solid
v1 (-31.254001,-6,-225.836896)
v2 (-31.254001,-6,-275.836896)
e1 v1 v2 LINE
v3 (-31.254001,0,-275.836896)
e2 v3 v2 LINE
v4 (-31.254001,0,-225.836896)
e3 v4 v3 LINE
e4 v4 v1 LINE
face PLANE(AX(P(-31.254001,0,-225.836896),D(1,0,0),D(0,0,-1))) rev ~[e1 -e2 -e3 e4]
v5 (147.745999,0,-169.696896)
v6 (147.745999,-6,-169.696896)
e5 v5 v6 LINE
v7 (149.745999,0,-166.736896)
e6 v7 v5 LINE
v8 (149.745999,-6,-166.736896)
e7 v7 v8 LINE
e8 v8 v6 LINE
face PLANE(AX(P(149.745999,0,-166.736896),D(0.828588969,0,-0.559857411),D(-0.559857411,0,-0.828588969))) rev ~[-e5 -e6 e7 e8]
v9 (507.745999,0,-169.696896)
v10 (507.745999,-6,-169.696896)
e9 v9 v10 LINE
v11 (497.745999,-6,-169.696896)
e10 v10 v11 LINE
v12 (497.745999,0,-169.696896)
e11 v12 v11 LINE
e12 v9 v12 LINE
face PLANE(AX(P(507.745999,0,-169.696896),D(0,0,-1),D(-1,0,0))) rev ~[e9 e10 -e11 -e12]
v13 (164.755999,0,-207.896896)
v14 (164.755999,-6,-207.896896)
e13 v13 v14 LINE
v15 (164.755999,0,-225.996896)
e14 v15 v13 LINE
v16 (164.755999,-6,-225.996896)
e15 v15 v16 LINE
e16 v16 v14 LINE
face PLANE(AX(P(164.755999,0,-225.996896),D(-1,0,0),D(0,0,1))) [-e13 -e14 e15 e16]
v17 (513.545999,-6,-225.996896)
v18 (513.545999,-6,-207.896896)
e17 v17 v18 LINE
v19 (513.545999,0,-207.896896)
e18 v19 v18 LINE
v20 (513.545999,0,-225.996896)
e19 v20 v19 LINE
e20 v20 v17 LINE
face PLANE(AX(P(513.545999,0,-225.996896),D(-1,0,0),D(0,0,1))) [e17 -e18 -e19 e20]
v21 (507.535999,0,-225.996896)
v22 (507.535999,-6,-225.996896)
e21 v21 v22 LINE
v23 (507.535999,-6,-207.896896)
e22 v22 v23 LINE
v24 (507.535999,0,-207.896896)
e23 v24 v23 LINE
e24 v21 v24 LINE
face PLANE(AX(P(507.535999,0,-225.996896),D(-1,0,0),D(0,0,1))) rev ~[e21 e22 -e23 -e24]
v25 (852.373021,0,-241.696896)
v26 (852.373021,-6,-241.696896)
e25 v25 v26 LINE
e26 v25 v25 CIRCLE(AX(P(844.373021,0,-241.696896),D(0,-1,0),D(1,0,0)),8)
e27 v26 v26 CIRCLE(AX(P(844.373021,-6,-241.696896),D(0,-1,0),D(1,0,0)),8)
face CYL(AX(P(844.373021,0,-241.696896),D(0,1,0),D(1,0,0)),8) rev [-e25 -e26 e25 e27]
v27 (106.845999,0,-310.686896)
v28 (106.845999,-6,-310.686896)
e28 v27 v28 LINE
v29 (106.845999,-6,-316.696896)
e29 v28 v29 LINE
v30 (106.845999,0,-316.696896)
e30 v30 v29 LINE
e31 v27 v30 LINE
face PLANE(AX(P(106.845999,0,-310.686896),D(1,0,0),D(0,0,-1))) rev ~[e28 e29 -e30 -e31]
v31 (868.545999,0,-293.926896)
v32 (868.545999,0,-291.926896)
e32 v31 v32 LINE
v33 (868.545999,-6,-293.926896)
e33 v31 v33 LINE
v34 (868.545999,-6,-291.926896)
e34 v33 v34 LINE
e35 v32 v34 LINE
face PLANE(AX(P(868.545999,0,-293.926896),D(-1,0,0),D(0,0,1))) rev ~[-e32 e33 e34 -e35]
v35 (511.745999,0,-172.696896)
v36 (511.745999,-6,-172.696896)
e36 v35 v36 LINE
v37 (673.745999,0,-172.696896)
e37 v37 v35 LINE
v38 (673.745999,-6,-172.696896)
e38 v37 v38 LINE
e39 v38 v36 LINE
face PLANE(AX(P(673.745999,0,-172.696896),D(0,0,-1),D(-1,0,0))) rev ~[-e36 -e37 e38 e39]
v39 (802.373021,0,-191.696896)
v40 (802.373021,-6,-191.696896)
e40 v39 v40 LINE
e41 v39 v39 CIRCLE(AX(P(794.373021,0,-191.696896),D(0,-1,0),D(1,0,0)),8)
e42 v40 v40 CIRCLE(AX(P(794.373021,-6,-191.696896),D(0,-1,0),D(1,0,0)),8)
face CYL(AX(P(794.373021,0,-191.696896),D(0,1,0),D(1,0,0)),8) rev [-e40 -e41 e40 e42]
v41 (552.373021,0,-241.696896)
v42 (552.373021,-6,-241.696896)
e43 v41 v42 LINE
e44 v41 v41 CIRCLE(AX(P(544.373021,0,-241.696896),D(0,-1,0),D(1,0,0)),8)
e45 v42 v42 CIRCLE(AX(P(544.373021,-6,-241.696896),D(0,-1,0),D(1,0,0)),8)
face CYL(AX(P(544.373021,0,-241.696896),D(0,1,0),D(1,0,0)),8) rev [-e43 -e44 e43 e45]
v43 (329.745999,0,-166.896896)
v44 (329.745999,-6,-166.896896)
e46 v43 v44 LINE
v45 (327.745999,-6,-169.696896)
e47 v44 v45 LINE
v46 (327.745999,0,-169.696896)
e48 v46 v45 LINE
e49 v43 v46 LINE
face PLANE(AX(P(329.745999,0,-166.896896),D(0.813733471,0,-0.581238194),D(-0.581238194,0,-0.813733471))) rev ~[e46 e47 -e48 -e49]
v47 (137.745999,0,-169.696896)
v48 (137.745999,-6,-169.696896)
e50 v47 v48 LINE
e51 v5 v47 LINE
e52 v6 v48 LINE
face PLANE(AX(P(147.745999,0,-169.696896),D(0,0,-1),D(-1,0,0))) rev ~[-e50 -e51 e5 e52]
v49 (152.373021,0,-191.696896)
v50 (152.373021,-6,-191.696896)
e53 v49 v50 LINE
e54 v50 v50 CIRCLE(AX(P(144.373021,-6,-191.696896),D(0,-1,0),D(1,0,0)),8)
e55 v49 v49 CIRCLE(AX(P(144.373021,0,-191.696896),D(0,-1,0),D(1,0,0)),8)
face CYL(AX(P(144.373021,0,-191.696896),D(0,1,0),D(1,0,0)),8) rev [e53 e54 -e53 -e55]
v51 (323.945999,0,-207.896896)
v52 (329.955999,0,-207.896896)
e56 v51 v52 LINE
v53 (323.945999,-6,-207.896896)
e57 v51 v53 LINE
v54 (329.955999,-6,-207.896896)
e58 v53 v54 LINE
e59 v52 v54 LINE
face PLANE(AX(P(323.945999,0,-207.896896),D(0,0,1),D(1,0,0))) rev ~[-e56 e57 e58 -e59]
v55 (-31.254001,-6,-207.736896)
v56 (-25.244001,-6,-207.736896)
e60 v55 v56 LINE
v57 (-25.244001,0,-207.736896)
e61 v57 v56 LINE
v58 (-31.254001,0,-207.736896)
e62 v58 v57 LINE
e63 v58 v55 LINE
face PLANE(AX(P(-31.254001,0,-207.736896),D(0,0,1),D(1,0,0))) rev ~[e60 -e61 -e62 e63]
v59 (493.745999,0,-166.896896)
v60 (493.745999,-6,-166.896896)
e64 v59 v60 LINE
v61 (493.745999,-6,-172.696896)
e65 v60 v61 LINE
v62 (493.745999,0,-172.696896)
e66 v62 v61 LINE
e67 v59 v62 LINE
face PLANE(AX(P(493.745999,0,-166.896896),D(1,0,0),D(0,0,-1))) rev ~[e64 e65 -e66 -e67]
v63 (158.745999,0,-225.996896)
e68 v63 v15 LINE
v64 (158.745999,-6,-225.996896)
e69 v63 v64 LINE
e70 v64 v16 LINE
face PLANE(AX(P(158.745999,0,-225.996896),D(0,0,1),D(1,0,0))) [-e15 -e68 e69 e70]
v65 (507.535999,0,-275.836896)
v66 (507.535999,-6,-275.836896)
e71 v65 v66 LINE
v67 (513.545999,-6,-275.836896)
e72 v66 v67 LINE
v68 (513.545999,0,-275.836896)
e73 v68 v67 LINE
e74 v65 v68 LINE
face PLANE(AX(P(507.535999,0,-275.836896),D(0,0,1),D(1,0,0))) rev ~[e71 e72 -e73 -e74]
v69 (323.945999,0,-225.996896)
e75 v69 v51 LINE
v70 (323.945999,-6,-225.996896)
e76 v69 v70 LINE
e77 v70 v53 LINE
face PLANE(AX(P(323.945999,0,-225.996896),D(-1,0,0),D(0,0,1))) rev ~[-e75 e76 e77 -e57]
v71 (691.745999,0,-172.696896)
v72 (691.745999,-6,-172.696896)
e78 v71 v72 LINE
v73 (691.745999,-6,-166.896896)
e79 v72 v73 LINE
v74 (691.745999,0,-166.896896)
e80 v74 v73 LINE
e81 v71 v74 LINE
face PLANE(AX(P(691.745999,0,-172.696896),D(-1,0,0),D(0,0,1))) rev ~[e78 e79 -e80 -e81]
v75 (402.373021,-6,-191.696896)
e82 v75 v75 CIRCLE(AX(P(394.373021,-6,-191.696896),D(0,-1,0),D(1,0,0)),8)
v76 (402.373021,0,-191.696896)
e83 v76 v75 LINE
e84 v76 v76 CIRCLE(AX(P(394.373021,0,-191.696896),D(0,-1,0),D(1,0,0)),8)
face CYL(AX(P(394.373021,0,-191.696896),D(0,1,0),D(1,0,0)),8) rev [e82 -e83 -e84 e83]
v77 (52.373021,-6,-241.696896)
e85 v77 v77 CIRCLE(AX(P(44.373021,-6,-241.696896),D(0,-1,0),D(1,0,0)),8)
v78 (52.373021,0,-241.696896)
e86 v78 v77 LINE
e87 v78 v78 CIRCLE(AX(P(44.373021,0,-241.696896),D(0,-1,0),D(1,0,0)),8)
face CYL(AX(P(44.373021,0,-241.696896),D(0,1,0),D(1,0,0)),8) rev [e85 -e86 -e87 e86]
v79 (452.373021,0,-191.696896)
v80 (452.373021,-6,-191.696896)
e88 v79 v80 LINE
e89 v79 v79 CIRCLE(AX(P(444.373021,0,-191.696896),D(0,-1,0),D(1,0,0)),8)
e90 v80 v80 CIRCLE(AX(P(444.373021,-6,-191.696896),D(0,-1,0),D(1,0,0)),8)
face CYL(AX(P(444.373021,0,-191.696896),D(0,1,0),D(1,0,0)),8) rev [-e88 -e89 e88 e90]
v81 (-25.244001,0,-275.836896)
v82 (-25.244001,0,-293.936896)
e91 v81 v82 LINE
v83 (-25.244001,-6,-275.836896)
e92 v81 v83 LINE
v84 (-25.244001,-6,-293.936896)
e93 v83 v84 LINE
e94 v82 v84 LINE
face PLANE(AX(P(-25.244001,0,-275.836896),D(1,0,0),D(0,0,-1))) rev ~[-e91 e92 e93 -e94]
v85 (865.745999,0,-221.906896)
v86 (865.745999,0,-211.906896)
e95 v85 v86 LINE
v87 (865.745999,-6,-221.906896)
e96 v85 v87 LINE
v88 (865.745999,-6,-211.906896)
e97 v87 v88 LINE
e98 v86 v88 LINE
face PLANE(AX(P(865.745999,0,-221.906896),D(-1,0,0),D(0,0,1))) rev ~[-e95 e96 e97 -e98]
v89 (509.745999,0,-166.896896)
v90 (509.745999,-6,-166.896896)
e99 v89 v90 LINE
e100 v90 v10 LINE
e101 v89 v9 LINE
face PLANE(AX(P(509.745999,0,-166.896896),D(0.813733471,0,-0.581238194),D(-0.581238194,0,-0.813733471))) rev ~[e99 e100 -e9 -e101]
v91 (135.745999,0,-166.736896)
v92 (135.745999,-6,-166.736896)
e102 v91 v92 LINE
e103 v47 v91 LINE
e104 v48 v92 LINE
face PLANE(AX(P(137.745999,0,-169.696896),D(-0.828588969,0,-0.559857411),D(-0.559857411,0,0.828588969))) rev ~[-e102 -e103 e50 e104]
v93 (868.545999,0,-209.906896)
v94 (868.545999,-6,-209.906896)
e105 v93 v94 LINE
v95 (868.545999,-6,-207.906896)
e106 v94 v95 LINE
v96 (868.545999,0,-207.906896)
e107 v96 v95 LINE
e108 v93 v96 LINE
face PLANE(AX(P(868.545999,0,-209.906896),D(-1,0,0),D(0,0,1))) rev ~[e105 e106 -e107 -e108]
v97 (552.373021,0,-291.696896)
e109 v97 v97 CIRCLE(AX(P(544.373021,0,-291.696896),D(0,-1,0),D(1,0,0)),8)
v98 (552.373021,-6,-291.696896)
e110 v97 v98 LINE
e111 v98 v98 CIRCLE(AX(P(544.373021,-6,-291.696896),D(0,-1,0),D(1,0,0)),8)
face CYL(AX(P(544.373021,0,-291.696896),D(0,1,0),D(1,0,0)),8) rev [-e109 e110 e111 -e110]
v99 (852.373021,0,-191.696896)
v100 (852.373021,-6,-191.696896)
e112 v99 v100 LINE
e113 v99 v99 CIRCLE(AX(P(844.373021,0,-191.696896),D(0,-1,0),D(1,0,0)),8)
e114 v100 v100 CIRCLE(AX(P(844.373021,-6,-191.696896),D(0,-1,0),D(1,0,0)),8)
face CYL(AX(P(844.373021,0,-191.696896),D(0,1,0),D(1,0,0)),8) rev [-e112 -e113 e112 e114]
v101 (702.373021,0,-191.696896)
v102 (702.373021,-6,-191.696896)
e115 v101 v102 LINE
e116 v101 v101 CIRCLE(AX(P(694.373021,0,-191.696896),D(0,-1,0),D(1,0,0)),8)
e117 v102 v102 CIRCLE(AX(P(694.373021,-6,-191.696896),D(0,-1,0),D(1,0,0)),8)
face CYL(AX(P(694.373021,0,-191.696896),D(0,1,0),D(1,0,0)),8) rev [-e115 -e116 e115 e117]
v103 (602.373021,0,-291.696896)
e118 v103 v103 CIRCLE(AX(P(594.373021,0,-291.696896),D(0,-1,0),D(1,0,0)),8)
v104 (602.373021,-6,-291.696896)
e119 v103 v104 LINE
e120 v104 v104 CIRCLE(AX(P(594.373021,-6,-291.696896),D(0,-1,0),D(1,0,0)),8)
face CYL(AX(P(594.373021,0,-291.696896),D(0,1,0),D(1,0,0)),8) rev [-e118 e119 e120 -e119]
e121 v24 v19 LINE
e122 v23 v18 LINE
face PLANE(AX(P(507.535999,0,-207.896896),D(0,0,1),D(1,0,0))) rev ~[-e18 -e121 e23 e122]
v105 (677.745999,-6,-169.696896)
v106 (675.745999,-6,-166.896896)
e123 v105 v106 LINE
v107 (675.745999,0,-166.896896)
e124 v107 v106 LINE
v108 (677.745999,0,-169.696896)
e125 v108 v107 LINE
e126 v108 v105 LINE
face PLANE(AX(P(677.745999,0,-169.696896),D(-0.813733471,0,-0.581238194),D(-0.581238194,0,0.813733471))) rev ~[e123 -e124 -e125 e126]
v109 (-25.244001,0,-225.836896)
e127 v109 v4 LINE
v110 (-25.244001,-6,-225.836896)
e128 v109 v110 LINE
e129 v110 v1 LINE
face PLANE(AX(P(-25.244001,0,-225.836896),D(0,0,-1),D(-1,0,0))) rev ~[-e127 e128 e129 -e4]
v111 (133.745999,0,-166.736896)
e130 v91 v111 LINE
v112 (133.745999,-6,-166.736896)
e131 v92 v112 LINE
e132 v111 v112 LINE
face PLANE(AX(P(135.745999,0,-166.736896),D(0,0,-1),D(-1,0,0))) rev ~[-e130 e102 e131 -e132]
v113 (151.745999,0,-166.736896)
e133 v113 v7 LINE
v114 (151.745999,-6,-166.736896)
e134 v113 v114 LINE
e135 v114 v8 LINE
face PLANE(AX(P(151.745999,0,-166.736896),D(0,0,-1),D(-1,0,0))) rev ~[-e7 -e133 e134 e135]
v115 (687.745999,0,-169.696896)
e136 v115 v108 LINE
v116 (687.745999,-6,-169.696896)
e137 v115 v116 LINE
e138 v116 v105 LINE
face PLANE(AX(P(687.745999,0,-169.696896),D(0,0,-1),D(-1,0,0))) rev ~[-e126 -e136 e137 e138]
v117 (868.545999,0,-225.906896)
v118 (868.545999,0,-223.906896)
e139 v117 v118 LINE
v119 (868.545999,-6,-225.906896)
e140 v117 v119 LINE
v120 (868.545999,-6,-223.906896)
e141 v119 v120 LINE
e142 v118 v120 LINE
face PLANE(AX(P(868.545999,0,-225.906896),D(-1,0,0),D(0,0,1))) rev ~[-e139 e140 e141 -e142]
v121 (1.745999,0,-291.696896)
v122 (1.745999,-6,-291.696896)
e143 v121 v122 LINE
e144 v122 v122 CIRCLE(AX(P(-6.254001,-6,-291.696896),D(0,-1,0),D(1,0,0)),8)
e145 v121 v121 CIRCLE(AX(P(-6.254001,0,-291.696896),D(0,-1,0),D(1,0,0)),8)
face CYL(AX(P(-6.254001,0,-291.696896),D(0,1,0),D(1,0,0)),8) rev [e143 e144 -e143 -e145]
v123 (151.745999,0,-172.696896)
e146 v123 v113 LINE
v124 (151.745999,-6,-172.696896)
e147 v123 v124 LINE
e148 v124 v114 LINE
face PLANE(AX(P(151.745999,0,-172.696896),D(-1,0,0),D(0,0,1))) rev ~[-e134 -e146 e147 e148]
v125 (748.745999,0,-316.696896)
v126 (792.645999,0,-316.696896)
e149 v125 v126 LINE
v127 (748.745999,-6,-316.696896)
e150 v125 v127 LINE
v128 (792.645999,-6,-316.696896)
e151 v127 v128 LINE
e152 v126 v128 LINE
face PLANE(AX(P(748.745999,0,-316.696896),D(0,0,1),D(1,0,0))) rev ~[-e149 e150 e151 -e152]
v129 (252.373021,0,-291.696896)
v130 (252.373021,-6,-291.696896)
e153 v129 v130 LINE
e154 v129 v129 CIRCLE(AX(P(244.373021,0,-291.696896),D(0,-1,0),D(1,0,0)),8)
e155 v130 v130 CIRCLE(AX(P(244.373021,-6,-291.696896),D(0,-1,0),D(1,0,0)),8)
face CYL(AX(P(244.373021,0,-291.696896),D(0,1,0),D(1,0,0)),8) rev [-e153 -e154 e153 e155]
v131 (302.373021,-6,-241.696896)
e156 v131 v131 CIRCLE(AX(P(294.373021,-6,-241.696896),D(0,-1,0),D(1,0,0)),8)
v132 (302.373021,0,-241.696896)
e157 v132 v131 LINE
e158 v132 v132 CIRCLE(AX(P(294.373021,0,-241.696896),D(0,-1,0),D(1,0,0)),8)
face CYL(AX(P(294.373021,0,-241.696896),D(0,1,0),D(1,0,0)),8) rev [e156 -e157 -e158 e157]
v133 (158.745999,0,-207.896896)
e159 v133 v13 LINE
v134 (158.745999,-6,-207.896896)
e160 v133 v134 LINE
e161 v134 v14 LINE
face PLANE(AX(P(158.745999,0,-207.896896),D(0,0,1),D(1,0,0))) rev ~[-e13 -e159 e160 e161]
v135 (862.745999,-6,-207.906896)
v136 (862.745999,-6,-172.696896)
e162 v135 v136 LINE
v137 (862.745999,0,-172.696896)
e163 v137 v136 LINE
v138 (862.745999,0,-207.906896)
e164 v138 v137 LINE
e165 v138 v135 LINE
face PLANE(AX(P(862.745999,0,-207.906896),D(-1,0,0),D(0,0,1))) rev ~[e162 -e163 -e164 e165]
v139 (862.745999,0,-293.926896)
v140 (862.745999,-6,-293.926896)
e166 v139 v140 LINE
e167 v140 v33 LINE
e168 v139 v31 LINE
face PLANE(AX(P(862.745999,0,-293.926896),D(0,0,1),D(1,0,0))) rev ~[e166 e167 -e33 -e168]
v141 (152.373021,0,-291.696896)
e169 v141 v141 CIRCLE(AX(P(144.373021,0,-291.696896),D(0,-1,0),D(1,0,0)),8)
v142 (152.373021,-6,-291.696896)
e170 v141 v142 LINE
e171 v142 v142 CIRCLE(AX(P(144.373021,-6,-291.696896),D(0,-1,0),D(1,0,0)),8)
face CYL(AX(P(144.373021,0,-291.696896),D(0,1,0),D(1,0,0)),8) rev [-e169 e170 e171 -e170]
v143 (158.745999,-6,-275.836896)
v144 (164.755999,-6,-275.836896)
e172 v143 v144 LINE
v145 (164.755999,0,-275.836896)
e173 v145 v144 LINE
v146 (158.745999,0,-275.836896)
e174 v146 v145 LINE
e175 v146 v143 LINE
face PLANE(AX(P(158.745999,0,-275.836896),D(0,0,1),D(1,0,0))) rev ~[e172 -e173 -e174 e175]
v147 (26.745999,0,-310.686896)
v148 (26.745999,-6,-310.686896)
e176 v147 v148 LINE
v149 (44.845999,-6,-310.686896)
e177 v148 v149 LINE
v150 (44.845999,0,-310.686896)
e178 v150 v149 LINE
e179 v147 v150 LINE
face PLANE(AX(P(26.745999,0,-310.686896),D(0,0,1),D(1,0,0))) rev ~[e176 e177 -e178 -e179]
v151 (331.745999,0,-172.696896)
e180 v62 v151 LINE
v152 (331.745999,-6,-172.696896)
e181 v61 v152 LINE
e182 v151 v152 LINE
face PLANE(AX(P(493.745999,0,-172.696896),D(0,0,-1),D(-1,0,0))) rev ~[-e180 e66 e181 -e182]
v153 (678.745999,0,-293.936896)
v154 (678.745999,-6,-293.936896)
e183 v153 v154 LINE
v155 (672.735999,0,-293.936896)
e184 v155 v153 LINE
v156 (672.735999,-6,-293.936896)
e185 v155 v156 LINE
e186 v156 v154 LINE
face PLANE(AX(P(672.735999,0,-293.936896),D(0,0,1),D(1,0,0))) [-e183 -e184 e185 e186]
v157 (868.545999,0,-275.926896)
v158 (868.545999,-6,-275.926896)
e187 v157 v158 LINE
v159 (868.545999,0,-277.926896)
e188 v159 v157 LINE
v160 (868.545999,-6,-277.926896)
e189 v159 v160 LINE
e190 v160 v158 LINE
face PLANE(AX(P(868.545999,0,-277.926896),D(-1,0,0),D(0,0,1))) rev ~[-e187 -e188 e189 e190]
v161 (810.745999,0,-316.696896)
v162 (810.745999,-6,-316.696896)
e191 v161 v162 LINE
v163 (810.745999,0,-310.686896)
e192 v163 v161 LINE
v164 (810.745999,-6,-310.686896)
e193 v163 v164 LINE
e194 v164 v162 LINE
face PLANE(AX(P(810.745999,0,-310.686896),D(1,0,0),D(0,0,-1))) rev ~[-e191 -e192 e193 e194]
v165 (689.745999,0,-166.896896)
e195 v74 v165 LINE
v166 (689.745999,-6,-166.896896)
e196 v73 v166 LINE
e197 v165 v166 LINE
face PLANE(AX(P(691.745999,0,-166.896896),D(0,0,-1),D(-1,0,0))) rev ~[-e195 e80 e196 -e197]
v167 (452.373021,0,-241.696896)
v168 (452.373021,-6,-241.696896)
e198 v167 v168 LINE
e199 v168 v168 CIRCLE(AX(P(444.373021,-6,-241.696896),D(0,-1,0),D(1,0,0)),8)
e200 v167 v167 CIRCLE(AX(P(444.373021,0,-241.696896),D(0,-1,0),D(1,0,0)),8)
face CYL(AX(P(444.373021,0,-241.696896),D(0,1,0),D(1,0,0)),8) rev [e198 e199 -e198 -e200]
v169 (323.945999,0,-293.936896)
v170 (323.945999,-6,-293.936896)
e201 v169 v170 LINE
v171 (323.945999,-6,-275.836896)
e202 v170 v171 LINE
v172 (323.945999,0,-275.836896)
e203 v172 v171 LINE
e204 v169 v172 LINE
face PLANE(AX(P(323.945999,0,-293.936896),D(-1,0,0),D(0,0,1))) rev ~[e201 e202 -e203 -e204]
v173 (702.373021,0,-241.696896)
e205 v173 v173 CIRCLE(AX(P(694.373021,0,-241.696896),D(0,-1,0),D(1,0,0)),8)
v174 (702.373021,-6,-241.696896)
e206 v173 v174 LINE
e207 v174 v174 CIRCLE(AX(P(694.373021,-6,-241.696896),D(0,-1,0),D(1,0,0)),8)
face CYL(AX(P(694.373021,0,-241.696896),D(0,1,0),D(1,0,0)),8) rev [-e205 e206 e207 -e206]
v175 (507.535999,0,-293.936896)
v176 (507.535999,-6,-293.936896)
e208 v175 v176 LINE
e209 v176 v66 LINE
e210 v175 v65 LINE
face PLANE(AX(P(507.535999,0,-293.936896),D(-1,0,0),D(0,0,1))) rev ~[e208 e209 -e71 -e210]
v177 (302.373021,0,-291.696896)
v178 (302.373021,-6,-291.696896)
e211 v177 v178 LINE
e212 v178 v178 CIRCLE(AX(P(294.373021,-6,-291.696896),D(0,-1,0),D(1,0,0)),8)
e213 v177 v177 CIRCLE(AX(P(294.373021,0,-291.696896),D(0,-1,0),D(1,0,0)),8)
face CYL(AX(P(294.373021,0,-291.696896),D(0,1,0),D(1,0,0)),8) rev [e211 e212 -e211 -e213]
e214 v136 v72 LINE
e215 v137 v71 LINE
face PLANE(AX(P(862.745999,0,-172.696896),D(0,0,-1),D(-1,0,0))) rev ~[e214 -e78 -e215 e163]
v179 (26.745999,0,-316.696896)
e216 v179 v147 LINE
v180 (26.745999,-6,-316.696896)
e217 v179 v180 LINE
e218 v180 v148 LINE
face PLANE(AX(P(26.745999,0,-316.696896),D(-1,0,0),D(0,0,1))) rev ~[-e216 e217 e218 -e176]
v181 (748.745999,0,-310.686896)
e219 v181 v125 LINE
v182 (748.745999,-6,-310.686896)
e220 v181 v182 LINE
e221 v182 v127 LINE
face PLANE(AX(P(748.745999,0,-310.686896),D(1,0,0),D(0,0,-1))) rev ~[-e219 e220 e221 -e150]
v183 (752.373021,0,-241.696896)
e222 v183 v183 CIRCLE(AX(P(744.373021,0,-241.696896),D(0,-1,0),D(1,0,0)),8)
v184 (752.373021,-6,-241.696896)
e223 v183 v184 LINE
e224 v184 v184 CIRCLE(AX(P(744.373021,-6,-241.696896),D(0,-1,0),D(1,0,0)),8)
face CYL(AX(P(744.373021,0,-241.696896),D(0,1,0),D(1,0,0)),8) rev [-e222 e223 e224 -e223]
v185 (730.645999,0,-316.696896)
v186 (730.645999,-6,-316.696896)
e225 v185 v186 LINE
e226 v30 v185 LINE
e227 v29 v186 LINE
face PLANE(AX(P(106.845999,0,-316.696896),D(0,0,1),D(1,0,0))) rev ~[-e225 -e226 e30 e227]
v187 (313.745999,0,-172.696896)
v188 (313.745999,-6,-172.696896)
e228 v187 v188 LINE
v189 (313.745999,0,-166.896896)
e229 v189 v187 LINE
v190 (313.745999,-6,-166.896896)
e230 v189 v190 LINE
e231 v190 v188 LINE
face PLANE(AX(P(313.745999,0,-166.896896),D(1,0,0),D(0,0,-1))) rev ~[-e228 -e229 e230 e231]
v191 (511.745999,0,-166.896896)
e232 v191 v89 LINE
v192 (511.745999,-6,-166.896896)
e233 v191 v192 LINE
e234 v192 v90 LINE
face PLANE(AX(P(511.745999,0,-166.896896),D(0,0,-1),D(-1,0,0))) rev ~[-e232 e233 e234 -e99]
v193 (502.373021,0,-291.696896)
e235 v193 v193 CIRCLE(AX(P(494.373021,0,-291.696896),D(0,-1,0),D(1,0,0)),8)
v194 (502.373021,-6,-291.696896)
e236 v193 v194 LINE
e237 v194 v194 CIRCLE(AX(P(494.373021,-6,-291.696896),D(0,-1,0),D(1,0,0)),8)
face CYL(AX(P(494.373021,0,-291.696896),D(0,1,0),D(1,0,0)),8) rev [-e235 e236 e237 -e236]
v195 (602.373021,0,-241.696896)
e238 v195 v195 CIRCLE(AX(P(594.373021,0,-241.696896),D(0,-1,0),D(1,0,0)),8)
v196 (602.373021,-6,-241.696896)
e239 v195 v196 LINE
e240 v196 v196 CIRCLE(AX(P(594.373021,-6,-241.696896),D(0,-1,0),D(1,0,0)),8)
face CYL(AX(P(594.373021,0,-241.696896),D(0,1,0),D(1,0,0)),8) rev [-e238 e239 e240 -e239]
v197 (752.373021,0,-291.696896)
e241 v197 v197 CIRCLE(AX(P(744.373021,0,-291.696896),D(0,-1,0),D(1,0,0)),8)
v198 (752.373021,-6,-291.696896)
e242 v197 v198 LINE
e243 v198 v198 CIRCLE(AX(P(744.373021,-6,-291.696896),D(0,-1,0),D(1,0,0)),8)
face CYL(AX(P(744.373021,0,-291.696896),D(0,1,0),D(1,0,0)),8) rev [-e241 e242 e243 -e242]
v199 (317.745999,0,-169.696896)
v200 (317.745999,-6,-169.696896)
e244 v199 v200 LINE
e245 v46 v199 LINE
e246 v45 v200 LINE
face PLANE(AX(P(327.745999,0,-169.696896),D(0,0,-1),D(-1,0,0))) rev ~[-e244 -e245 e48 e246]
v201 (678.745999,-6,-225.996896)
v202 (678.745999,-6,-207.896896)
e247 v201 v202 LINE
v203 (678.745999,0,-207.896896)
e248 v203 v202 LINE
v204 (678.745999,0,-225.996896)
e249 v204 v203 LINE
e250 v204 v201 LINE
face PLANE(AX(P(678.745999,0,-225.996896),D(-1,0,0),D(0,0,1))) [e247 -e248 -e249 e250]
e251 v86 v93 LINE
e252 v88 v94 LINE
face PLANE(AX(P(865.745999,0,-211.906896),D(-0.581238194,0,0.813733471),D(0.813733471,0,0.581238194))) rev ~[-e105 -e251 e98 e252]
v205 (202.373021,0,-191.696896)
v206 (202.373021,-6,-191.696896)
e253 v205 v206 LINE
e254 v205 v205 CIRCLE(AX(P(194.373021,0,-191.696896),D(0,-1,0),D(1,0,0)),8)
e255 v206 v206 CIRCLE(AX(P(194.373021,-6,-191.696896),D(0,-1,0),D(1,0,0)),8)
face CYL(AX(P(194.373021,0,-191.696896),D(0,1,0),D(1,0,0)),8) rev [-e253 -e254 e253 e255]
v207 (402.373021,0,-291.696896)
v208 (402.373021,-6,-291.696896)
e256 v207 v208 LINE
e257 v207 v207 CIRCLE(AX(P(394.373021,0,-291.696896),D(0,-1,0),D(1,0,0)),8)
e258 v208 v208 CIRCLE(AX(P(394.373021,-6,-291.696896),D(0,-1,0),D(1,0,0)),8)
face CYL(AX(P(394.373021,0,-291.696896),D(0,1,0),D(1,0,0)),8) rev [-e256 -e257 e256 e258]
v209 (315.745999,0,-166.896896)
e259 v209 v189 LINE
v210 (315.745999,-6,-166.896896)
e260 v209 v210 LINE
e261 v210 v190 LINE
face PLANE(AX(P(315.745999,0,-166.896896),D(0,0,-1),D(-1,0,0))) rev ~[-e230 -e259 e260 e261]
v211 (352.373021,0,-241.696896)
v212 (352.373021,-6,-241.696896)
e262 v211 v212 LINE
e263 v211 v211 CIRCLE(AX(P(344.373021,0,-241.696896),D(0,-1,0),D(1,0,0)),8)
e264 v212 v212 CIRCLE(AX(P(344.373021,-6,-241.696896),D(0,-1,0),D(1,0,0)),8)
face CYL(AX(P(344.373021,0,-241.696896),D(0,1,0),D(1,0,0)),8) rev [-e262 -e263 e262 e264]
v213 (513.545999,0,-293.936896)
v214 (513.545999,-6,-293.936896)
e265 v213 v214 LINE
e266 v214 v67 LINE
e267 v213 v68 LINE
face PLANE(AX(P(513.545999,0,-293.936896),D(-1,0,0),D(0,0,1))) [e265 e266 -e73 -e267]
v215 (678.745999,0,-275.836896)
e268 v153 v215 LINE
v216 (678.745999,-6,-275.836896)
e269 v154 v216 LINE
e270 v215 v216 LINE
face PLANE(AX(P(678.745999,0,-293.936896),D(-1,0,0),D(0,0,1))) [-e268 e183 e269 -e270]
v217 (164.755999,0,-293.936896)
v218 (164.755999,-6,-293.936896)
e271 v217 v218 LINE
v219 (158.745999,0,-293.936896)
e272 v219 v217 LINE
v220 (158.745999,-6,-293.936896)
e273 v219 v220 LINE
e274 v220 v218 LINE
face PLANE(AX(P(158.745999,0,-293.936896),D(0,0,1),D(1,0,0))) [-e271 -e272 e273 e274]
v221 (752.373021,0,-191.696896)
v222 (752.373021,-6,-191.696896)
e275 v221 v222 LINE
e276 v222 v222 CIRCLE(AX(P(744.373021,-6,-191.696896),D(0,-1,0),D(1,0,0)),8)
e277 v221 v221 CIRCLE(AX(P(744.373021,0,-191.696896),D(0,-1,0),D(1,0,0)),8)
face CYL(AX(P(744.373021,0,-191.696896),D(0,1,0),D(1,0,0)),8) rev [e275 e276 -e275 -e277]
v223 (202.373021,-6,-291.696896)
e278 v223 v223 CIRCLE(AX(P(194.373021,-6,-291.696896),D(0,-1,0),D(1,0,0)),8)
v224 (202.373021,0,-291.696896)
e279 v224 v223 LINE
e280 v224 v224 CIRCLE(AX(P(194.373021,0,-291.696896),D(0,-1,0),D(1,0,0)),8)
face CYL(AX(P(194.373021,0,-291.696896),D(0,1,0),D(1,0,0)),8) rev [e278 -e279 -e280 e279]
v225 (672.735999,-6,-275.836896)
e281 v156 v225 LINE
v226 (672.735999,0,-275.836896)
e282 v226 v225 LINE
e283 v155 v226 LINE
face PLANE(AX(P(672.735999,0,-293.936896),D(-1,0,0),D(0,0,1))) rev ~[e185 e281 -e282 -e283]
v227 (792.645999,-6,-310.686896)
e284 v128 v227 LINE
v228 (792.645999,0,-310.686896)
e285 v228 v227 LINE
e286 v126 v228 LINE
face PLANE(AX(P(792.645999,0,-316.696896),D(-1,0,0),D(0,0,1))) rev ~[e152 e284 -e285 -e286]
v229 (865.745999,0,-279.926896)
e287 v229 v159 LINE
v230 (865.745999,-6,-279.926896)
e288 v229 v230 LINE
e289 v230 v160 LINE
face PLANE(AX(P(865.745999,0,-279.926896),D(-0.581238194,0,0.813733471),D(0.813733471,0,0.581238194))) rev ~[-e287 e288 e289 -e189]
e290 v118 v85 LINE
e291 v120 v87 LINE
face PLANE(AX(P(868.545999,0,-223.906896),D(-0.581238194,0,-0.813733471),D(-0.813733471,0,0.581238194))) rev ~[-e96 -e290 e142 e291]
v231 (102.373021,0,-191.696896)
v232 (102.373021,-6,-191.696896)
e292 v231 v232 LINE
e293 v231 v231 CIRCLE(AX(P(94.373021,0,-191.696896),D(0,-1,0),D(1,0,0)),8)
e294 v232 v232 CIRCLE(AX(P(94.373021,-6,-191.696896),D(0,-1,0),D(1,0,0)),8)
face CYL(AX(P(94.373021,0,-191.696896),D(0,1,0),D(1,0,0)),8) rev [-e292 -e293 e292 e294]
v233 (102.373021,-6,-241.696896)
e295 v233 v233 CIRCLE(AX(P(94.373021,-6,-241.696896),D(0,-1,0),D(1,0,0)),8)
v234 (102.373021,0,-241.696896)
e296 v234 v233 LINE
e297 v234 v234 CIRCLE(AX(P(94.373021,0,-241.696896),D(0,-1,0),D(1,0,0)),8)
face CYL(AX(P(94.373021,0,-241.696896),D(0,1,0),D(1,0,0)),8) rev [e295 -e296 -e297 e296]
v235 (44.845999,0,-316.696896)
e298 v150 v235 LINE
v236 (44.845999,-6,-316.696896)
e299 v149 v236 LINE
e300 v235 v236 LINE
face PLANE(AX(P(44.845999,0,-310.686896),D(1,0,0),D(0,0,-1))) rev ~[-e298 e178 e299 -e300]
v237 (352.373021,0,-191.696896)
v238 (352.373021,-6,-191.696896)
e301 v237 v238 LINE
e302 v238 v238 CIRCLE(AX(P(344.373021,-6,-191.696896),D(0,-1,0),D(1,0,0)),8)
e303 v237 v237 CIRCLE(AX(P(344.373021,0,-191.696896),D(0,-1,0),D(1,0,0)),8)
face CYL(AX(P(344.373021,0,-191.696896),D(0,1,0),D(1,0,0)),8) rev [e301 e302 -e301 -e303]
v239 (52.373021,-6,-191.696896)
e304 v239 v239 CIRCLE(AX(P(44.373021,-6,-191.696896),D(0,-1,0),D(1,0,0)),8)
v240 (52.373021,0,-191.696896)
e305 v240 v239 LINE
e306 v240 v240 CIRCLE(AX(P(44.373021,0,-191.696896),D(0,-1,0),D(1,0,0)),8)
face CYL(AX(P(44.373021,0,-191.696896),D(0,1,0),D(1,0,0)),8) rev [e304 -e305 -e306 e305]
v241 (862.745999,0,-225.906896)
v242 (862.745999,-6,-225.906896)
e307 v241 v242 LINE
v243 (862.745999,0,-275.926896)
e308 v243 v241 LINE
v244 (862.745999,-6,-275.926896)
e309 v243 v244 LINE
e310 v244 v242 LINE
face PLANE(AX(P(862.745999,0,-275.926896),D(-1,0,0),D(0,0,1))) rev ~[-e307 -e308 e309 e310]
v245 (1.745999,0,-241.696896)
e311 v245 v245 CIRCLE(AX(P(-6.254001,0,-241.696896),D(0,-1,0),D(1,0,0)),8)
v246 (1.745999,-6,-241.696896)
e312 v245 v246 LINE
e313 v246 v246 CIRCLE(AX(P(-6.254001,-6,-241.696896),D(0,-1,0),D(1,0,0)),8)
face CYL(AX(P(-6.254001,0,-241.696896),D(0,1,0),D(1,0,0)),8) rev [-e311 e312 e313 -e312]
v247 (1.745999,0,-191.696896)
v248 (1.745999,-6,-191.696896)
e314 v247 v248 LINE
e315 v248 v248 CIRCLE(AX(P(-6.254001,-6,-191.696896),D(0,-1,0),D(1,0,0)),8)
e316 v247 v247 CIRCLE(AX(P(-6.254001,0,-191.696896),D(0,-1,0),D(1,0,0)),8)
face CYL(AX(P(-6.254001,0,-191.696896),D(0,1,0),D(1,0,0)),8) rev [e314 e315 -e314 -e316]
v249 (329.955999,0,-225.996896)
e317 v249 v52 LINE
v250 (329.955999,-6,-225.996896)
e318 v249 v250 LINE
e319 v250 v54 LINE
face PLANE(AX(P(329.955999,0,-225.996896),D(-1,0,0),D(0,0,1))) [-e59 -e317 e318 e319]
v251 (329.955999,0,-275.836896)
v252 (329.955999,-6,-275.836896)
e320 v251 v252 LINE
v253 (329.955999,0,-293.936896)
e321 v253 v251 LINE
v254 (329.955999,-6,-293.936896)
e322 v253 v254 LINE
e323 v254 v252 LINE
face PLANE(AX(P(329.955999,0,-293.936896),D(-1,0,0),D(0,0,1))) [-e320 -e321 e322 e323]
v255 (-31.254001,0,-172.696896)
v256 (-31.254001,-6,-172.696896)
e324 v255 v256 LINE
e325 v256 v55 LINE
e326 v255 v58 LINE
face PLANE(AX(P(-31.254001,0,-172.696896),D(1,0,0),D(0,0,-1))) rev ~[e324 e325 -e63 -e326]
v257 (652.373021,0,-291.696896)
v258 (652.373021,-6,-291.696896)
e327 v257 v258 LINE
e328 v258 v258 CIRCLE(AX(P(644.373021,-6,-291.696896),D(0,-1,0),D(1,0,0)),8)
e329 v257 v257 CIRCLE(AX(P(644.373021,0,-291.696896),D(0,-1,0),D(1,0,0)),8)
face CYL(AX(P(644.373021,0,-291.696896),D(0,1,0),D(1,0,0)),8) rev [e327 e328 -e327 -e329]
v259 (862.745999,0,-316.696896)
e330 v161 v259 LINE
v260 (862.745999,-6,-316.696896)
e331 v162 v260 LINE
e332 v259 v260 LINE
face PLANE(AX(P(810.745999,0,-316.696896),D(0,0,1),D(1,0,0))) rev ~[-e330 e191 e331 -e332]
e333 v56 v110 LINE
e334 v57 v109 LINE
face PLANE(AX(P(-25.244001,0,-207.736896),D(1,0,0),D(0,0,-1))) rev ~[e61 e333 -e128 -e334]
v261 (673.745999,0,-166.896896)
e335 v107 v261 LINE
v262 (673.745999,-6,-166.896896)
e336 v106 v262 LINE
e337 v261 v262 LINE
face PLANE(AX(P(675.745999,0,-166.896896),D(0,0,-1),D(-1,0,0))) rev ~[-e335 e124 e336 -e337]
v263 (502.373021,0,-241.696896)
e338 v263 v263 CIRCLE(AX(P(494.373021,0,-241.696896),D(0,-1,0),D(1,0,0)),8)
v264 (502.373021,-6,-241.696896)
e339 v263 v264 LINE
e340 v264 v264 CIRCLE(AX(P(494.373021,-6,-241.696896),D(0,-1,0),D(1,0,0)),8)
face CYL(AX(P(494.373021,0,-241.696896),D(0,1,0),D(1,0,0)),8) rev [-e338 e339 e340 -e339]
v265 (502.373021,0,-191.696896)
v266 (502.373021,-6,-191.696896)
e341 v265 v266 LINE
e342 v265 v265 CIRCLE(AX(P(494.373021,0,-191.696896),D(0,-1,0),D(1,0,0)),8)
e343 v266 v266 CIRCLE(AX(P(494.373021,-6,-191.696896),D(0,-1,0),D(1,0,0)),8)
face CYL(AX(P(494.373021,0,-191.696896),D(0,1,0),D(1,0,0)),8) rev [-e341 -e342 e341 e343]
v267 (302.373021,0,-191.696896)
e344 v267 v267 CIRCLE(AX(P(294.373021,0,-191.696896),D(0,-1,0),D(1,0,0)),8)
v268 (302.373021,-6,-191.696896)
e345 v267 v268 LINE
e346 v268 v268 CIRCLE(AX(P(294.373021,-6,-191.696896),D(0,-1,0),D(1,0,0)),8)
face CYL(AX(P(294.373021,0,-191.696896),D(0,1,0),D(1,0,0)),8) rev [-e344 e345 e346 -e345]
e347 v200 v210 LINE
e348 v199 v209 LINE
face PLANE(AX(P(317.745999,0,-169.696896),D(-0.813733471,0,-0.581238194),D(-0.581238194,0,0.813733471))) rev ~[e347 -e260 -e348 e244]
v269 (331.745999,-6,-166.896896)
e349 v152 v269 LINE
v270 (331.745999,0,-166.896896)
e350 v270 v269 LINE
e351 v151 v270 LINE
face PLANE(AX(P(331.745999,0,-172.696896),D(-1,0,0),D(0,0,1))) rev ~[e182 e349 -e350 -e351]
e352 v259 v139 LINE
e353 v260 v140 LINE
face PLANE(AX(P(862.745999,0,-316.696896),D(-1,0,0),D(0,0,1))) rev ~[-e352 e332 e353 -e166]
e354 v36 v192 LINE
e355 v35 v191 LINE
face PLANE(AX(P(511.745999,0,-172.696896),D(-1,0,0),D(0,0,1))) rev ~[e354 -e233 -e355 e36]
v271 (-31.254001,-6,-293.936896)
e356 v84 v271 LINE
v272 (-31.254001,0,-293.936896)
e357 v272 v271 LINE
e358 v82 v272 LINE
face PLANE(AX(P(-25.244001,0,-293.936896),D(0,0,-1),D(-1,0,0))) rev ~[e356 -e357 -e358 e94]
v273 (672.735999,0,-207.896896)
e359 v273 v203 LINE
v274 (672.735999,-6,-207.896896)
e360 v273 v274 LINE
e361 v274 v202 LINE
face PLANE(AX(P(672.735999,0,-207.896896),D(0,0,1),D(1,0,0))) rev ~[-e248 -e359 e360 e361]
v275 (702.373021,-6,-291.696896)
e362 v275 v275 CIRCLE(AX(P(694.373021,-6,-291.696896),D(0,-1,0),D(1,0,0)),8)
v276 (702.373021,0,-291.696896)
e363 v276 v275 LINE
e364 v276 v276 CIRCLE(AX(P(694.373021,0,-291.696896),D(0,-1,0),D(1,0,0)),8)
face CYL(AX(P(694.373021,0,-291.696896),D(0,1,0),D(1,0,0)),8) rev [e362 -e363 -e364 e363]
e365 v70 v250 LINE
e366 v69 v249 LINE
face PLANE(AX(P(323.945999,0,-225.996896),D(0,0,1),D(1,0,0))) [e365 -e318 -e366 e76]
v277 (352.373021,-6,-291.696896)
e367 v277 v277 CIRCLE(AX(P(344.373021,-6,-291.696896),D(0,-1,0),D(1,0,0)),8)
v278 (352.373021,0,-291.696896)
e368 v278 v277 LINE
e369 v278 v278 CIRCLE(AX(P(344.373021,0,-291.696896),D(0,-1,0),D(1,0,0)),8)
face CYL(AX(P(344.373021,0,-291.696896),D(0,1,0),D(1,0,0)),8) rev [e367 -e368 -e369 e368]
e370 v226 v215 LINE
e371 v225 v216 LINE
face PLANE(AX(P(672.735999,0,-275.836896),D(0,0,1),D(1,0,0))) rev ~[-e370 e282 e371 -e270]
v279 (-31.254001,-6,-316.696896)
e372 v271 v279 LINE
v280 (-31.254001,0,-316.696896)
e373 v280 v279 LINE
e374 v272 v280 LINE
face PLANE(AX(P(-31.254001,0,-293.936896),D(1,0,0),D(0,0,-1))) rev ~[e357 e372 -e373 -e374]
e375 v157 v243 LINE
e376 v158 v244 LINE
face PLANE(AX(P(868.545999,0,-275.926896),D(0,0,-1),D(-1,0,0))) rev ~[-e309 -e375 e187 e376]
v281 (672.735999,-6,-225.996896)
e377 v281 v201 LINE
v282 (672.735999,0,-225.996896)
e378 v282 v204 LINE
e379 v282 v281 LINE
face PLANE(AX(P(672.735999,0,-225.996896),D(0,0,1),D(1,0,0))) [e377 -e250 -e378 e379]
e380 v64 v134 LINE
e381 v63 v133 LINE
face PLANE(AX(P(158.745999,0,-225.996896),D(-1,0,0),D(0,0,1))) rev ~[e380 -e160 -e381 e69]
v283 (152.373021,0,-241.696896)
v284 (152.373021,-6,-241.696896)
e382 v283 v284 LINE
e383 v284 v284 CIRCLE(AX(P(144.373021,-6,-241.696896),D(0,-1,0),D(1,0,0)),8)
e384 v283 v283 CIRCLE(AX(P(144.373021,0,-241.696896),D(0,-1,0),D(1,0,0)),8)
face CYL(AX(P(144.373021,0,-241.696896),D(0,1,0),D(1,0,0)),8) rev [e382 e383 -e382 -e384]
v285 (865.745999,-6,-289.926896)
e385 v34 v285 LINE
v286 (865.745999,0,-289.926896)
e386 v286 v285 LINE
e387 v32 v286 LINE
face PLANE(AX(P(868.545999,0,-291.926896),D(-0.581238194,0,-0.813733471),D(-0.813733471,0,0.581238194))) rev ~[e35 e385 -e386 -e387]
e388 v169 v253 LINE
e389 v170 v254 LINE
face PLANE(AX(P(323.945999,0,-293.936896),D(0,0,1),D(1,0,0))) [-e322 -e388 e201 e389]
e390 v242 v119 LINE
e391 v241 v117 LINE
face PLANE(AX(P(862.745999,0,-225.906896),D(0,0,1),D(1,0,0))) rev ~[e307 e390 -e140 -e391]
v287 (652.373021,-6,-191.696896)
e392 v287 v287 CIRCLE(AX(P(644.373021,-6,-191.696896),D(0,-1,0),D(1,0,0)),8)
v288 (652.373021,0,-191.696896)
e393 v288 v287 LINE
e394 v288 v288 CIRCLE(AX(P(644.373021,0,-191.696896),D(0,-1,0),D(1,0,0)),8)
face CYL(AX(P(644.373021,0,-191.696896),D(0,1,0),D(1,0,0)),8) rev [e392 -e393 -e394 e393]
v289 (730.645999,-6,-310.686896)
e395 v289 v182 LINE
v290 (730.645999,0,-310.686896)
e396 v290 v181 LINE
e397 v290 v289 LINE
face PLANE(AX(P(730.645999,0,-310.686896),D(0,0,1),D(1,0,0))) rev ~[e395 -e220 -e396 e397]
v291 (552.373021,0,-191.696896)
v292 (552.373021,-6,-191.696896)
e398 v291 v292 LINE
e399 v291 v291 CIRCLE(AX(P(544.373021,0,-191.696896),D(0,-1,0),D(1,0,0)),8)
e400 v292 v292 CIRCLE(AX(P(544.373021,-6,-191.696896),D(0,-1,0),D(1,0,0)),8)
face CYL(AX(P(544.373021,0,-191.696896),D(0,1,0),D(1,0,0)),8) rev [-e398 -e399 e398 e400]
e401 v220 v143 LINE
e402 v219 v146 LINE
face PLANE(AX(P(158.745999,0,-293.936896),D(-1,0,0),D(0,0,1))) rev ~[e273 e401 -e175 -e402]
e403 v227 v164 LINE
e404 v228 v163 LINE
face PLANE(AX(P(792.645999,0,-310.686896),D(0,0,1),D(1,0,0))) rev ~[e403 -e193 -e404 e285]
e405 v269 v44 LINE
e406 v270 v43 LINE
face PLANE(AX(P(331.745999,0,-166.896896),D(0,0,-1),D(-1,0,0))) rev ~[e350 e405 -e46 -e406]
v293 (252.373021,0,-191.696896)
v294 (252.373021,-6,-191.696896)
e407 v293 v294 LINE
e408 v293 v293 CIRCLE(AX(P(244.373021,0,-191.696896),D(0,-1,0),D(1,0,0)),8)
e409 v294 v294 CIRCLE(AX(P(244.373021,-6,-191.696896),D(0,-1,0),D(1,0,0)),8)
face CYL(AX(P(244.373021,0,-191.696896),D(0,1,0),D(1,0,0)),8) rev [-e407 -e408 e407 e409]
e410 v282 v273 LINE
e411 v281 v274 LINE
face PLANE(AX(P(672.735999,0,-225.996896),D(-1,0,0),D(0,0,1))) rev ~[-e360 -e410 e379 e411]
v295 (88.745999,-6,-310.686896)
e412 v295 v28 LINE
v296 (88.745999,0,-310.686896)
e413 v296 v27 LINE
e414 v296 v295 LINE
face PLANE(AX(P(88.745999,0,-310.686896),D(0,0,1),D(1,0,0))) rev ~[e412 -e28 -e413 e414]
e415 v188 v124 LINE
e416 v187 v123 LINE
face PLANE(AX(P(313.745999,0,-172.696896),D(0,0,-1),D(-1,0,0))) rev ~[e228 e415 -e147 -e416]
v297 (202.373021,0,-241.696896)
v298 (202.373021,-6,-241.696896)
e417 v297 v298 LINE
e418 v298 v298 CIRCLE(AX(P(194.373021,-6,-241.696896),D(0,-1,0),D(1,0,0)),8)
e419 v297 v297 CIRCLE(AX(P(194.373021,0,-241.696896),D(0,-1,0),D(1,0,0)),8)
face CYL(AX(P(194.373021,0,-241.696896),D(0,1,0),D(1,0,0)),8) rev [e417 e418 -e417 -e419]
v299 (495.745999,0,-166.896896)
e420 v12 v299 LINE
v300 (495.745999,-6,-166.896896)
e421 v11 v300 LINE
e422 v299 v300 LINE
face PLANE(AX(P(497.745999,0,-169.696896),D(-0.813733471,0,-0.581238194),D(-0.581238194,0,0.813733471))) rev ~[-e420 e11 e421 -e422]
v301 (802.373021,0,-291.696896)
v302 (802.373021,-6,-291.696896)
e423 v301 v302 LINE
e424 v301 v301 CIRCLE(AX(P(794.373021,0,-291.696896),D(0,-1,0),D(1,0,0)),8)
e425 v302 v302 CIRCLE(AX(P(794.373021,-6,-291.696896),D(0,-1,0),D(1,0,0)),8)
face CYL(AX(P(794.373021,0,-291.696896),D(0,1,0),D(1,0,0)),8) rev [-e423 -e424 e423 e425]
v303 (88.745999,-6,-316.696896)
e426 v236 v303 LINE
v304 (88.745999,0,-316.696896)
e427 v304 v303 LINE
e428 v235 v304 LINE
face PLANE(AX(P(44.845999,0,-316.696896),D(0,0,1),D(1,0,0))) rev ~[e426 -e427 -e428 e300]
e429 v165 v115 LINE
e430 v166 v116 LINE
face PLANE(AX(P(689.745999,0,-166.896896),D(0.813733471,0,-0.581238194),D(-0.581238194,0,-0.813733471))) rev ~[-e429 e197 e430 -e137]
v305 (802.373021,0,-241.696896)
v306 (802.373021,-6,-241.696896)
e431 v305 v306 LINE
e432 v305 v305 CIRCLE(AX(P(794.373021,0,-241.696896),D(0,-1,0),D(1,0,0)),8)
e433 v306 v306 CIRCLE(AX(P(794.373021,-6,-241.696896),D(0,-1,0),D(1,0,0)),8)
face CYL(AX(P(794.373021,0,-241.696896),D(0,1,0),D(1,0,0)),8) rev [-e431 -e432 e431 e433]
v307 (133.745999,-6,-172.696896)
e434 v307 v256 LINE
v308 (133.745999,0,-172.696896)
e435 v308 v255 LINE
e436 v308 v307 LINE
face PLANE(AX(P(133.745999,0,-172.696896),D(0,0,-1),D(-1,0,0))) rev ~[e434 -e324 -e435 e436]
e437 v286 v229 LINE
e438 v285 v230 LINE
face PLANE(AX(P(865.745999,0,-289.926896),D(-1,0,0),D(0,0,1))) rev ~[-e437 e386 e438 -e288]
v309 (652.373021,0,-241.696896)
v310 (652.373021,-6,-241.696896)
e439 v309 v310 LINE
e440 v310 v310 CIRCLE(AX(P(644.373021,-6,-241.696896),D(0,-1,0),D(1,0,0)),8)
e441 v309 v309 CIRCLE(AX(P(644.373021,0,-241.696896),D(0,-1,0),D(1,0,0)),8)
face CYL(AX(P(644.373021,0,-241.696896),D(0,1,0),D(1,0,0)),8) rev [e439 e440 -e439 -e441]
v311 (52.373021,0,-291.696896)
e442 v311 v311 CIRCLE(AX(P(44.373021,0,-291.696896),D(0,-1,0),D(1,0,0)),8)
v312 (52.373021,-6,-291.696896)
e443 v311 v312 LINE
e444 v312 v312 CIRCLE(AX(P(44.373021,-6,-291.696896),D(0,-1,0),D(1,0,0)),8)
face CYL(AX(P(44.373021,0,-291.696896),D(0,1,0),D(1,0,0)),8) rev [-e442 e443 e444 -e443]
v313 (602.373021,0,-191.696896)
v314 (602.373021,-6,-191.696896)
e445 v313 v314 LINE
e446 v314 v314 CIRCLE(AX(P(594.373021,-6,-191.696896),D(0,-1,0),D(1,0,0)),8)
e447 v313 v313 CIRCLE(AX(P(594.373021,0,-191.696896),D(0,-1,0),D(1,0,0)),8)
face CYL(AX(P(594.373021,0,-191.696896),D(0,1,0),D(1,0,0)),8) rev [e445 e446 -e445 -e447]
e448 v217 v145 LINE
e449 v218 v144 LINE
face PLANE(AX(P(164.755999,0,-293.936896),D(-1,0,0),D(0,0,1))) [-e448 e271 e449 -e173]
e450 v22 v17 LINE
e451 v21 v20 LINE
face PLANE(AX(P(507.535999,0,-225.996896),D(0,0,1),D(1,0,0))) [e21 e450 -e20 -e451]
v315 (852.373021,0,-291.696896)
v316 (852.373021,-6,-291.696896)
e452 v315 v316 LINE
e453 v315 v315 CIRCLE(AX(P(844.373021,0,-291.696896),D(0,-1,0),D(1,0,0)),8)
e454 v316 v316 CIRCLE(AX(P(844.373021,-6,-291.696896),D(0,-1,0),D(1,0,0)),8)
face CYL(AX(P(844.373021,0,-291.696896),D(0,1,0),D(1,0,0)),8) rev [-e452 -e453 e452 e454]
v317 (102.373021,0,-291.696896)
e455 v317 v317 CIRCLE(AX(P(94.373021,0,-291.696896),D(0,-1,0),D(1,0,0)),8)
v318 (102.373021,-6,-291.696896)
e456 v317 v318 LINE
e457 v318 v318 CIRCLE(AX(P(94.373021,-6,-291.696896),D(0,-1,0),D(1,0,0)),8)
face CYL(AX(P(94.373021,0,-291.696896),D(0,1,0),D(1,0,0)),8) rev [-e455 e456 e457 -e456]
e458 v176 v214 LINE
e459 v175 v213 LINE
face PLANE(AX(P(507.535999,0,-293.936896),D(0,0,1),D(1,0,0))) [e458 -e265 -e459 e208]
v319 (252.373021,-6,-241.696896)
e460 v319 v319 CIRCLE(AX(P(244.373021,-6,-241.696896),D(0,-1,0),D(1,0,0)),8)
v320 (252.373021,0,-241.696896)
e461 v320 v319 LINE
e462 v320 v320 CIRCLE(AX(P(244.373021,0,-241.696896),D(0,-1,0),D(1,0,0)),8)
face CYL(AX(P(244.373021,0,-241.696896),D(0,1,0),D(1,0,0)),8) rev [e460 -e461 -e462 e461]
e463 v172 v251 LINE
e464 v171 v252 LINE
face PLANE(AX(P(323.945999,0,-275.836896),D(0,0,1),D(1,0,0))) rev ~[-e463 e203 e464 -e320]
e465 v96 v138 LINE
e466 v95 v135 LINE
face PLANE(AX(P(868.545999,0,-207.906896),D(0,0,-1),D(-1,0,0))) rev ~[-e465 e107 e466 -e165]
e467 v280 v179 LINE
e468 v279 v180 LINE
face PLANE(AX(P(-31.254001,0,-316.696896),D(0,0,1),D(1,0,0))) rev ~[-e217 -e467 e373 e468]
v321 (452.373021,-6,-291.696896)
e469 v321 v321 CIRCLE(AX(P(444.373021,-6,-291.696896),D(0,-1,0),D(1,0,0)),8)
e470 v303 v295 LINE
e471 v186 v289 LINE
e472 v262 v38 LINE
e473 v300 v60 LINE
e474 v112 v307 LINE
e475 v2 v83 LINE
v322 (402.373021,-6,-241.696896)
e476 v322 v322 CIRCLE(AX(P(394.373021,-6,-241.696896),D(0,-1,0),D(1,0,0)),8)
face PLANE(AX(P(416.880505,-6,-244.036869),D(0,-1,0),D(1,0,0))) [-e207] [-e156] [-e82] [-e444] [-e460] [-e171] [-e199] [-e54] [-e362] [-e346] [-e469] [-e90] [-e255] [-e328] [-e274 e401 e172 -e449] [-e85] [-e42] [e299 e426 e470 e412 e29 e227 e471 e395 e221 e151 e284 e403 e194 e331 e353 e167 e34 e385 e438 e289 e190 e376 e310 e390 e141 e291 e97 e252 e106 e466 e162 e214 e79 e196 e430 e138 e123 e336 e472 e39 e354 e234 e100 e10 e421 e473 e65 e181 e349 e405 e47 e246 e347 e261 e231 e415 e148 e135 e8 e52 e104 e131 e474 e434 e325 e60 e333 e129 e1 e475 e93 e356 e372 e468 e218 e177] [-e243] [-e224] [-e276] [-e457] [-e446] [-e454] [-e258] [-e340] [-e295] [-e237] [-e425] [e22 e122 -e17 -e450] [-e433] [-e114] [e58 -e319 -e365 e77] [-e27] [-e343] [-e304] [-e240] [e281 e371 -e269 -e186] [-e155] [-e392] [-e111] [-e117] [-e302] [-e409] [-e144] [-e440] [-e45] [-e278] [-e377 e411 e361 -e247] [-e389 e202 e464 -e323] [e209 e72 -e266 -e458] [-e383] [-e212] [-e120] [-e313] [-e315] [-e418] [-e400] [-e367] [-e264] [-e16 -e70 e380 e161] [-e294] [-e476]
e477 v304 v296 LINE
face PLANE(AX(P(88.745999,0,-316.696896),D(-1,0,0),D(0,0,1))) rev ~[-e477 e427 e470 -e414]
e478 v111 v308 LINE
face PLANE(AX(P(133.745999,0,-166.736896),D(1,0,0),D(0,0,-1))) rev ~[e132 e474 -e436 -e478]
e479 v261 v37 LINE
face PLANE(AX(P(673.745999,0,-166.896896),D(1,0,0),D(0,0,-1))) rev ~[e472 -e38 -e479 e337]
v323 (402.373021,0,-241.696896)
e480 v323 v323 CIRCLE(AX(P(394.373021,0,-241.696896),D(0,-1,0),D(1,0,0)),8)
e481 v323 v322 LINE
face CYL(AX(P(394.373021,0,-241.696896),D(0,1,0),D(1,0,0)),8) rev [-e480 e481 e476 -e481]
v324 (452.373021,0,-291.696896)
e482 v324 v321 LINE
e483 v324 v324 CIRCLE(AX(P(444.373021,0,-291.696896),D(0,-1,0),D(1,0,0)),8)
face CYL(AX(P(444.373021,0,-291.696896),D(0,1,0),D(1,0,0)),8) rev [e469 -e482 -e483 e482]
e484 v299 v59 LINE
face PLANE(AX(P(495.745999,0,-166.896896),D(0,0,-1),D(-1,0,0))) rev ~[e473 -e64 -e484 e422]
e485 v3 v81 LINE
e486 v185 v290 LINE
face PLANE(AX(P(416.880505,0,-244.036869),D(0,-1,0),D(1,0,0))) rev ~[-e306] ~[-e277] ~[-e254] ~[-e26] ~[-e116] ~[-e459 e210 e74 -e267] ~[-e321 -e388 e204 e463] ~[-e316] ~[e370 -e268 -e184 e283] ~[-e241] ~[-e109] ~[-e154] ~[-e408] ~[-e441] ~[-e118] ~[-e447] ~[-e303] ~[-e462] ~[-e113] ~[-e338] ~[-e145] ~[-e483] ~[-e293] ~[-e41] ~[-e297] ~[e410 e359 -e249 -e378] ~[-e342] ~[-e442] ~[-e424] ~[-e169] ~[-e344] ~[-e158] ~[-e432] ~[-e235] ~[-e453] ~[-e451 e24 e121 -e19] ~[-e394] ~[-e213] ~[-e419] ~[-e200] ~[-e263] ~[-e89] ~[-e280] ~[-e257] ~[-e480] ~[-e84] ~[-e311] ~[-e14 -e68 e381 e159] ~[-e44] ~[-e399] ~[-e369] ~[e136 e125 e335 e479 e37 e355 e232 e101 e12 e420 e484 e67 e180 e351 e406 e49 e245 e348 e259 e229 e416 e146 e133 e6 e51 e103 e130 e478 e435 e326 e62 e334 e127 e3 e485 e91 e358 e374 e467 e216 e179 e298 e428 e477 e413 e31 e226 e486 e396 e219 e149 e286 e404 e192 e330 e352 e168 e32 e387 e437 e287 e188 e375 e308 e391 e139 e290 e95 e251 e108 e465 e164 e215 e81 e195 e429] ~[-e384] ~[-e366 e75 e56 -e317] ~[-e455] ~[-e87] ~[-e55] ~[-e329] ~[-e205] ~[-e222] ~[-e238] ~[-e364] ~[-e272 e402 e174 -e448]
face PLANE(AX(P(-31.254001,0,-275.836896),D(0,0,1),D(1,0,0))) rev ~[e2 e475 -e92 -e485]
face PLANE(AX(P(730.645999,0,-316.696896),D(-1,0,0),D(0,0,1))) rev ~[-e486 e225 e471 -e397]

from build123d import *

# Parameters (mm, degrees)
F0_R     = 8
F0_W     = 6.01
F0_H     = 18.1
F1_DEPTH = 6


with BuildPart() as f1:
    # F0 (on Front) → F1 (new body)
    with BuildSketch(Plane.XZ):
        Polygon((133.745999, -172.696896), (-31.254001, -172.696896), (-31.254001, -207.736896), (-25.244001, -207.736896), (-25.244001, -225.836896), (-31.254001, -225.836896), (-31.254001, -275.836896), (-25.244001, -275.836896), (-25.244001, -293.936896), (-31.254001, -293.936896), (-31.254001, -316.696896), (26.745999, -316.696896), (26.745999, -310.686896), (44.845999, -310.686896), (44.845999, -316.696896), (88.745999, -316.696896), (88.745999, -310.686896), (106.845999, -310.686896), (106.845999, -316.696896), (730.645999, -316.696896), (730.645999, -310.686896), (748.745999, -310.686896), (748.745999, -316.696896), (792.645999, -316.696896), (792.645999, -310.686896), (810.745999, -310.686896), (810.745999, -316.696896), (862.745999, -316.696896), (862.745999, -293.926896), (868.545999, -293.926896), (868.545999, -291.926896), (865.745999, -289.926896), (865.745999, -279.926896), (868.545999, -277.926896), (868.545999, -275.926896), (862.745999, -275.926896), (862.745999, -225.906896), (868.545999, -225.906896), (868.545999, -223.906896), (865.745999, -221.906896), (865.745999, -211.906896), (868.545999, -209.906896), (868.545999, -207.906896), (862.745999, -207.906896), (862.745999, -172.696896), (691.745999, -172.696896), (691.745999, -166.896896), (689.745999, -166.896896), (687.745999, -169.696896), (677.745999, -169.696896), (675.745999, -166.896896), (673.745999, -166.896896), (673.745999, -172.696896), (511.745999, -172.696896), (511.745999, -166.896896), (509.745999, -166.896896), (507.745999, -169.696896), (497.745999, -169.696896), (495.745999, -166.896896), (493.745999, -166.896896), (493.745999, -172.696896), (331.745999, -172.696896), (331.745999, -166.896896), (329.745999, -166.896896), (327.745999, -169.696896), (317.745999, -169.696896), (315.745999, -166.896896), (313.745999, -166.896896), (313.745999, -172.696896), (151.745999, -172.696896), (151.745999, -166.736896), (149.745999, -166.736896), (147.745999, -169.696896), (137.745999, -169.696896), (135.745999, -166.736896), (133.745999, -166.736896), align=None)
        with Locations((-6.254001, -291.696896)):
            Circle(F0_R, mode=Mode.SUBTRACT)
        with Locations((44.373021, -291.696896)):
            Circle(F0_R, mode=Mode.SUBTRACT)
        with Locations((94.373021, -291.696896)):
            Circle(F0_R, mode=Mode.SUBTRACT)
        with Locations((144.373021, -291.696896)):
            Circle(F0_R, mode=Mode.SUBTRACT)
        with Locations((161.750999, -284.886896)):
            Rectangle(F0_W, F0_H, mode=Mode.SUBTRACT)
        with Locations((194.373021, -291.696896)):
            Circle(F0_R, mode=Mode.SUBTRACT)
        with Locations((244.373021, -291.696896)):
            Circle(F0_R, mode=Mode.SUBTRACT)
        with Locations((294.373021, -291.696896)):
            Circle(F0_R, mode=Mode.SUBTRACT)
        with Locations((344.373021, -291.696896)):
            Circle(F0_R, mode=Mode.SUBTRACT)
        with Locations((394.373021, -291.696896)):
            Circle(F0_R, mode=Mode.SUBTRACT)
        with Locations((326.950999, -284.886896)):
            Rectangle(F0_W, F0_H, mode=Mode.SUBTRACT)
        with Locations((444.373021, -291.696896)):
            Circle(F0_R, mode=Mode.SUBTRACT)
        with Locations((494.373021, -291.696896)):
            Circle(F0_R, mode=Mode.SUBTRACT)
        with Locations((510.540999, -284.886896)):
            Rectangle(F0_W, F0_H, mode=Mode.SUBTRACT)
        with Locations((544.373021, -291.696896)):
            Circle(F0_R, mode=Mode.SUBTRACT)
        with Locations((594.373021, -291.696896)):
            Circle(F0_R, mode=Mode.SUBTRACT)
        with Locations((644.373021, -291.696896)):
            Circle(F0_R, mode=Mode.SUBTRACT)
        with Locations((694.373021, -291.696896)):
            Circle(F0_R, mode=Mode.SUBTRACT)
        with Locations((744.373021, -291.696896)):
            Circle(F0_R, mode=Mode.SUBTRACT)
        with Locations((675.740999, -284.886896)):
            Rectangle(F0_W, F0_H, mode=Mode.SUBTRACT)
        with Locations((794.373021, -291.696896)):
            Circle(F0_R, mode=Mode.SUBTRACT)
        with Locations((844.373021, -291.696896)):
            Circle(F0_R, mode=Mode.SUBTRACT)
        with Locations((-6.254001, -241.696896)):
            Circle(F0_R, mode=Mode.SUBTRACT)
        with Locations((44.373021, -241.696896)):
            Circle(F0_R, mode=Mode.SUBTRACT)
        with Locations((94.373021, -241.696896)):
            Circle(F0_R, mode=Mode.SUBTRACT)
        with Locations((144.373021, -241.696896)):
            Circle(F0_R, mode=Mode.SUBTRACT)
        with Locations((161.750999, -216.946896)):
            Rectangle(F0_W, F0_H, mode=Mode.SUBTRACT)
        with Locations((194.373021, -241.696896)):
            Circle(F0_R, mode=Mode.SUBTRACT)
        with Locations((244.373021, -241.696896)):
            Circle(F0_R, mode=Mode.SUBTRACT)
        with Locations((294.373021, -241.696896)):
            Circle(F0_R, mode=Mode.SUBTRACT)
        with Locations((344.373021, -241.696896)):
            Circle(F0_R, mode=Mode.SUBTRACT)
        with Locations((394.373021, -241.696896)):
            Circle(F0_R, mode=Mode.SUBTRACT)
        with Locations((326.950999, -216.946896)):
            Rectangle(F0_W, F0_H, mode=Mode.SUBTRACT)
        with Locations((-6.254001, -191.696896)):
            Circle(F0_R, mode=Mode.SUBTRACT)
        with Locations((44.373021, -191.696896)):
            Circle(F0_R, mode=Mode.SUBTRACT)
        with Locations((94.373021, -191.696896)):
            Circle(F0_R, mode=Mode.SUBTRACT)
        with Locations((144.373021, -191.696896)):
            Circle(F0_R, mode=Mode.SUBTRACT)
        with Locations((194.373021, -191.696896)):
            Circle(F0_R, mode=Mode.SUBTRACT)
        with Locations((244.373021, -191.696896)):
            Circle(F0_R, mode=Mode.SUBTRACT)
        with Locations((294.373021, -191.696896)):
            Circle(F0_R, mode=Mode.SUBTRACT)
        with Locations((344.373021, -191.696896)):
            Circle(F0_R, mode=Mode.SUBTRACT)
        with Locations((394.373021, -191.696896)):
            Circle(F0_R, mode=Mode.SUBTRACT)
        with Locations((444.373021, -241.696896)):
            Circle(F0_R, mode=Mode.SUBTRACT)
        with Locations((494.373021, -241.696896)):
            Circle(F0_R, mode=Mode.SUBTRACT)
        with Locations((544.373021, -241.696896)):
            Circle(F0_R, mode=Mode.SUBTRACT)
        with Locations((594.373021, -241.696896)):
            Circle(F0_R, mode=Mode.SUBTRACT)
        with Locations((510.540999, -216.946896)):
            Rectangle(F0_W, F0_H, mode=Mode.SUBTRACT)
        with Locations((644.373021, -241.696896)):
            Circle(F0_R, mode=Mode.SUBTRACT)
        with Locations((694.373021, -241.696896)):
            Circle(F0_R, mode=Mode.SUBTRACT)
        with Locations((744.373021, -241.696896)):
            Circle(F0_R, mode=Mode.SUBTRACT)
        with Locations((794.373021, -241.696896)):
            Circle(F0_R, mode=Mode.SUBTRACT)
        with Locations((844.373021, -241.696896)):
            Circle(F0_R, mode=Mode.SUBTRACT)
        with Locations((675.740999, -216.946896)):
            Rectangle(F0_W, F0_H, mode=Mode.SUBTRACT)
        with Locations((444.373021, -191.696896)):
            Circle(F0_R, mode=Mode.SUBTRACT)
        with Locations((494.373021, -191.696896)):
            Circle(F0_R, mode=Mode.SUBTRACT)
        with Locations((544.373021, -191.696896)):
            Circle(F0_R, mode=Mode.SUBTRACT)
        with Locations((594.373021, -191.696896)):
            Circle(F0_R, mode=Mode.SUBTRACT)
        with Locations((644.373021, -191.696896)):
            Circle(F0_R, mode=Mode.SUBTRACT)
        with Locations((694.373021, -191.696896)):
            Circle(F0_R, mode=Mode.SUBTRACT)
        with Locations((744.373021, -191.696896)):
            Circle(F0_R, mode=Mode.SUBTRACT)
        with Locations((794.373021, -191.696896)):
            Circle(F0_R, mode=Mode.SUBTRACT)
        with Locations((844.373021, -191.696896)):
            Circle(F0_R, mode=Mode.SUBTRACT)
    extrude(amount=F1_DEPTH)


solid = f1.part
